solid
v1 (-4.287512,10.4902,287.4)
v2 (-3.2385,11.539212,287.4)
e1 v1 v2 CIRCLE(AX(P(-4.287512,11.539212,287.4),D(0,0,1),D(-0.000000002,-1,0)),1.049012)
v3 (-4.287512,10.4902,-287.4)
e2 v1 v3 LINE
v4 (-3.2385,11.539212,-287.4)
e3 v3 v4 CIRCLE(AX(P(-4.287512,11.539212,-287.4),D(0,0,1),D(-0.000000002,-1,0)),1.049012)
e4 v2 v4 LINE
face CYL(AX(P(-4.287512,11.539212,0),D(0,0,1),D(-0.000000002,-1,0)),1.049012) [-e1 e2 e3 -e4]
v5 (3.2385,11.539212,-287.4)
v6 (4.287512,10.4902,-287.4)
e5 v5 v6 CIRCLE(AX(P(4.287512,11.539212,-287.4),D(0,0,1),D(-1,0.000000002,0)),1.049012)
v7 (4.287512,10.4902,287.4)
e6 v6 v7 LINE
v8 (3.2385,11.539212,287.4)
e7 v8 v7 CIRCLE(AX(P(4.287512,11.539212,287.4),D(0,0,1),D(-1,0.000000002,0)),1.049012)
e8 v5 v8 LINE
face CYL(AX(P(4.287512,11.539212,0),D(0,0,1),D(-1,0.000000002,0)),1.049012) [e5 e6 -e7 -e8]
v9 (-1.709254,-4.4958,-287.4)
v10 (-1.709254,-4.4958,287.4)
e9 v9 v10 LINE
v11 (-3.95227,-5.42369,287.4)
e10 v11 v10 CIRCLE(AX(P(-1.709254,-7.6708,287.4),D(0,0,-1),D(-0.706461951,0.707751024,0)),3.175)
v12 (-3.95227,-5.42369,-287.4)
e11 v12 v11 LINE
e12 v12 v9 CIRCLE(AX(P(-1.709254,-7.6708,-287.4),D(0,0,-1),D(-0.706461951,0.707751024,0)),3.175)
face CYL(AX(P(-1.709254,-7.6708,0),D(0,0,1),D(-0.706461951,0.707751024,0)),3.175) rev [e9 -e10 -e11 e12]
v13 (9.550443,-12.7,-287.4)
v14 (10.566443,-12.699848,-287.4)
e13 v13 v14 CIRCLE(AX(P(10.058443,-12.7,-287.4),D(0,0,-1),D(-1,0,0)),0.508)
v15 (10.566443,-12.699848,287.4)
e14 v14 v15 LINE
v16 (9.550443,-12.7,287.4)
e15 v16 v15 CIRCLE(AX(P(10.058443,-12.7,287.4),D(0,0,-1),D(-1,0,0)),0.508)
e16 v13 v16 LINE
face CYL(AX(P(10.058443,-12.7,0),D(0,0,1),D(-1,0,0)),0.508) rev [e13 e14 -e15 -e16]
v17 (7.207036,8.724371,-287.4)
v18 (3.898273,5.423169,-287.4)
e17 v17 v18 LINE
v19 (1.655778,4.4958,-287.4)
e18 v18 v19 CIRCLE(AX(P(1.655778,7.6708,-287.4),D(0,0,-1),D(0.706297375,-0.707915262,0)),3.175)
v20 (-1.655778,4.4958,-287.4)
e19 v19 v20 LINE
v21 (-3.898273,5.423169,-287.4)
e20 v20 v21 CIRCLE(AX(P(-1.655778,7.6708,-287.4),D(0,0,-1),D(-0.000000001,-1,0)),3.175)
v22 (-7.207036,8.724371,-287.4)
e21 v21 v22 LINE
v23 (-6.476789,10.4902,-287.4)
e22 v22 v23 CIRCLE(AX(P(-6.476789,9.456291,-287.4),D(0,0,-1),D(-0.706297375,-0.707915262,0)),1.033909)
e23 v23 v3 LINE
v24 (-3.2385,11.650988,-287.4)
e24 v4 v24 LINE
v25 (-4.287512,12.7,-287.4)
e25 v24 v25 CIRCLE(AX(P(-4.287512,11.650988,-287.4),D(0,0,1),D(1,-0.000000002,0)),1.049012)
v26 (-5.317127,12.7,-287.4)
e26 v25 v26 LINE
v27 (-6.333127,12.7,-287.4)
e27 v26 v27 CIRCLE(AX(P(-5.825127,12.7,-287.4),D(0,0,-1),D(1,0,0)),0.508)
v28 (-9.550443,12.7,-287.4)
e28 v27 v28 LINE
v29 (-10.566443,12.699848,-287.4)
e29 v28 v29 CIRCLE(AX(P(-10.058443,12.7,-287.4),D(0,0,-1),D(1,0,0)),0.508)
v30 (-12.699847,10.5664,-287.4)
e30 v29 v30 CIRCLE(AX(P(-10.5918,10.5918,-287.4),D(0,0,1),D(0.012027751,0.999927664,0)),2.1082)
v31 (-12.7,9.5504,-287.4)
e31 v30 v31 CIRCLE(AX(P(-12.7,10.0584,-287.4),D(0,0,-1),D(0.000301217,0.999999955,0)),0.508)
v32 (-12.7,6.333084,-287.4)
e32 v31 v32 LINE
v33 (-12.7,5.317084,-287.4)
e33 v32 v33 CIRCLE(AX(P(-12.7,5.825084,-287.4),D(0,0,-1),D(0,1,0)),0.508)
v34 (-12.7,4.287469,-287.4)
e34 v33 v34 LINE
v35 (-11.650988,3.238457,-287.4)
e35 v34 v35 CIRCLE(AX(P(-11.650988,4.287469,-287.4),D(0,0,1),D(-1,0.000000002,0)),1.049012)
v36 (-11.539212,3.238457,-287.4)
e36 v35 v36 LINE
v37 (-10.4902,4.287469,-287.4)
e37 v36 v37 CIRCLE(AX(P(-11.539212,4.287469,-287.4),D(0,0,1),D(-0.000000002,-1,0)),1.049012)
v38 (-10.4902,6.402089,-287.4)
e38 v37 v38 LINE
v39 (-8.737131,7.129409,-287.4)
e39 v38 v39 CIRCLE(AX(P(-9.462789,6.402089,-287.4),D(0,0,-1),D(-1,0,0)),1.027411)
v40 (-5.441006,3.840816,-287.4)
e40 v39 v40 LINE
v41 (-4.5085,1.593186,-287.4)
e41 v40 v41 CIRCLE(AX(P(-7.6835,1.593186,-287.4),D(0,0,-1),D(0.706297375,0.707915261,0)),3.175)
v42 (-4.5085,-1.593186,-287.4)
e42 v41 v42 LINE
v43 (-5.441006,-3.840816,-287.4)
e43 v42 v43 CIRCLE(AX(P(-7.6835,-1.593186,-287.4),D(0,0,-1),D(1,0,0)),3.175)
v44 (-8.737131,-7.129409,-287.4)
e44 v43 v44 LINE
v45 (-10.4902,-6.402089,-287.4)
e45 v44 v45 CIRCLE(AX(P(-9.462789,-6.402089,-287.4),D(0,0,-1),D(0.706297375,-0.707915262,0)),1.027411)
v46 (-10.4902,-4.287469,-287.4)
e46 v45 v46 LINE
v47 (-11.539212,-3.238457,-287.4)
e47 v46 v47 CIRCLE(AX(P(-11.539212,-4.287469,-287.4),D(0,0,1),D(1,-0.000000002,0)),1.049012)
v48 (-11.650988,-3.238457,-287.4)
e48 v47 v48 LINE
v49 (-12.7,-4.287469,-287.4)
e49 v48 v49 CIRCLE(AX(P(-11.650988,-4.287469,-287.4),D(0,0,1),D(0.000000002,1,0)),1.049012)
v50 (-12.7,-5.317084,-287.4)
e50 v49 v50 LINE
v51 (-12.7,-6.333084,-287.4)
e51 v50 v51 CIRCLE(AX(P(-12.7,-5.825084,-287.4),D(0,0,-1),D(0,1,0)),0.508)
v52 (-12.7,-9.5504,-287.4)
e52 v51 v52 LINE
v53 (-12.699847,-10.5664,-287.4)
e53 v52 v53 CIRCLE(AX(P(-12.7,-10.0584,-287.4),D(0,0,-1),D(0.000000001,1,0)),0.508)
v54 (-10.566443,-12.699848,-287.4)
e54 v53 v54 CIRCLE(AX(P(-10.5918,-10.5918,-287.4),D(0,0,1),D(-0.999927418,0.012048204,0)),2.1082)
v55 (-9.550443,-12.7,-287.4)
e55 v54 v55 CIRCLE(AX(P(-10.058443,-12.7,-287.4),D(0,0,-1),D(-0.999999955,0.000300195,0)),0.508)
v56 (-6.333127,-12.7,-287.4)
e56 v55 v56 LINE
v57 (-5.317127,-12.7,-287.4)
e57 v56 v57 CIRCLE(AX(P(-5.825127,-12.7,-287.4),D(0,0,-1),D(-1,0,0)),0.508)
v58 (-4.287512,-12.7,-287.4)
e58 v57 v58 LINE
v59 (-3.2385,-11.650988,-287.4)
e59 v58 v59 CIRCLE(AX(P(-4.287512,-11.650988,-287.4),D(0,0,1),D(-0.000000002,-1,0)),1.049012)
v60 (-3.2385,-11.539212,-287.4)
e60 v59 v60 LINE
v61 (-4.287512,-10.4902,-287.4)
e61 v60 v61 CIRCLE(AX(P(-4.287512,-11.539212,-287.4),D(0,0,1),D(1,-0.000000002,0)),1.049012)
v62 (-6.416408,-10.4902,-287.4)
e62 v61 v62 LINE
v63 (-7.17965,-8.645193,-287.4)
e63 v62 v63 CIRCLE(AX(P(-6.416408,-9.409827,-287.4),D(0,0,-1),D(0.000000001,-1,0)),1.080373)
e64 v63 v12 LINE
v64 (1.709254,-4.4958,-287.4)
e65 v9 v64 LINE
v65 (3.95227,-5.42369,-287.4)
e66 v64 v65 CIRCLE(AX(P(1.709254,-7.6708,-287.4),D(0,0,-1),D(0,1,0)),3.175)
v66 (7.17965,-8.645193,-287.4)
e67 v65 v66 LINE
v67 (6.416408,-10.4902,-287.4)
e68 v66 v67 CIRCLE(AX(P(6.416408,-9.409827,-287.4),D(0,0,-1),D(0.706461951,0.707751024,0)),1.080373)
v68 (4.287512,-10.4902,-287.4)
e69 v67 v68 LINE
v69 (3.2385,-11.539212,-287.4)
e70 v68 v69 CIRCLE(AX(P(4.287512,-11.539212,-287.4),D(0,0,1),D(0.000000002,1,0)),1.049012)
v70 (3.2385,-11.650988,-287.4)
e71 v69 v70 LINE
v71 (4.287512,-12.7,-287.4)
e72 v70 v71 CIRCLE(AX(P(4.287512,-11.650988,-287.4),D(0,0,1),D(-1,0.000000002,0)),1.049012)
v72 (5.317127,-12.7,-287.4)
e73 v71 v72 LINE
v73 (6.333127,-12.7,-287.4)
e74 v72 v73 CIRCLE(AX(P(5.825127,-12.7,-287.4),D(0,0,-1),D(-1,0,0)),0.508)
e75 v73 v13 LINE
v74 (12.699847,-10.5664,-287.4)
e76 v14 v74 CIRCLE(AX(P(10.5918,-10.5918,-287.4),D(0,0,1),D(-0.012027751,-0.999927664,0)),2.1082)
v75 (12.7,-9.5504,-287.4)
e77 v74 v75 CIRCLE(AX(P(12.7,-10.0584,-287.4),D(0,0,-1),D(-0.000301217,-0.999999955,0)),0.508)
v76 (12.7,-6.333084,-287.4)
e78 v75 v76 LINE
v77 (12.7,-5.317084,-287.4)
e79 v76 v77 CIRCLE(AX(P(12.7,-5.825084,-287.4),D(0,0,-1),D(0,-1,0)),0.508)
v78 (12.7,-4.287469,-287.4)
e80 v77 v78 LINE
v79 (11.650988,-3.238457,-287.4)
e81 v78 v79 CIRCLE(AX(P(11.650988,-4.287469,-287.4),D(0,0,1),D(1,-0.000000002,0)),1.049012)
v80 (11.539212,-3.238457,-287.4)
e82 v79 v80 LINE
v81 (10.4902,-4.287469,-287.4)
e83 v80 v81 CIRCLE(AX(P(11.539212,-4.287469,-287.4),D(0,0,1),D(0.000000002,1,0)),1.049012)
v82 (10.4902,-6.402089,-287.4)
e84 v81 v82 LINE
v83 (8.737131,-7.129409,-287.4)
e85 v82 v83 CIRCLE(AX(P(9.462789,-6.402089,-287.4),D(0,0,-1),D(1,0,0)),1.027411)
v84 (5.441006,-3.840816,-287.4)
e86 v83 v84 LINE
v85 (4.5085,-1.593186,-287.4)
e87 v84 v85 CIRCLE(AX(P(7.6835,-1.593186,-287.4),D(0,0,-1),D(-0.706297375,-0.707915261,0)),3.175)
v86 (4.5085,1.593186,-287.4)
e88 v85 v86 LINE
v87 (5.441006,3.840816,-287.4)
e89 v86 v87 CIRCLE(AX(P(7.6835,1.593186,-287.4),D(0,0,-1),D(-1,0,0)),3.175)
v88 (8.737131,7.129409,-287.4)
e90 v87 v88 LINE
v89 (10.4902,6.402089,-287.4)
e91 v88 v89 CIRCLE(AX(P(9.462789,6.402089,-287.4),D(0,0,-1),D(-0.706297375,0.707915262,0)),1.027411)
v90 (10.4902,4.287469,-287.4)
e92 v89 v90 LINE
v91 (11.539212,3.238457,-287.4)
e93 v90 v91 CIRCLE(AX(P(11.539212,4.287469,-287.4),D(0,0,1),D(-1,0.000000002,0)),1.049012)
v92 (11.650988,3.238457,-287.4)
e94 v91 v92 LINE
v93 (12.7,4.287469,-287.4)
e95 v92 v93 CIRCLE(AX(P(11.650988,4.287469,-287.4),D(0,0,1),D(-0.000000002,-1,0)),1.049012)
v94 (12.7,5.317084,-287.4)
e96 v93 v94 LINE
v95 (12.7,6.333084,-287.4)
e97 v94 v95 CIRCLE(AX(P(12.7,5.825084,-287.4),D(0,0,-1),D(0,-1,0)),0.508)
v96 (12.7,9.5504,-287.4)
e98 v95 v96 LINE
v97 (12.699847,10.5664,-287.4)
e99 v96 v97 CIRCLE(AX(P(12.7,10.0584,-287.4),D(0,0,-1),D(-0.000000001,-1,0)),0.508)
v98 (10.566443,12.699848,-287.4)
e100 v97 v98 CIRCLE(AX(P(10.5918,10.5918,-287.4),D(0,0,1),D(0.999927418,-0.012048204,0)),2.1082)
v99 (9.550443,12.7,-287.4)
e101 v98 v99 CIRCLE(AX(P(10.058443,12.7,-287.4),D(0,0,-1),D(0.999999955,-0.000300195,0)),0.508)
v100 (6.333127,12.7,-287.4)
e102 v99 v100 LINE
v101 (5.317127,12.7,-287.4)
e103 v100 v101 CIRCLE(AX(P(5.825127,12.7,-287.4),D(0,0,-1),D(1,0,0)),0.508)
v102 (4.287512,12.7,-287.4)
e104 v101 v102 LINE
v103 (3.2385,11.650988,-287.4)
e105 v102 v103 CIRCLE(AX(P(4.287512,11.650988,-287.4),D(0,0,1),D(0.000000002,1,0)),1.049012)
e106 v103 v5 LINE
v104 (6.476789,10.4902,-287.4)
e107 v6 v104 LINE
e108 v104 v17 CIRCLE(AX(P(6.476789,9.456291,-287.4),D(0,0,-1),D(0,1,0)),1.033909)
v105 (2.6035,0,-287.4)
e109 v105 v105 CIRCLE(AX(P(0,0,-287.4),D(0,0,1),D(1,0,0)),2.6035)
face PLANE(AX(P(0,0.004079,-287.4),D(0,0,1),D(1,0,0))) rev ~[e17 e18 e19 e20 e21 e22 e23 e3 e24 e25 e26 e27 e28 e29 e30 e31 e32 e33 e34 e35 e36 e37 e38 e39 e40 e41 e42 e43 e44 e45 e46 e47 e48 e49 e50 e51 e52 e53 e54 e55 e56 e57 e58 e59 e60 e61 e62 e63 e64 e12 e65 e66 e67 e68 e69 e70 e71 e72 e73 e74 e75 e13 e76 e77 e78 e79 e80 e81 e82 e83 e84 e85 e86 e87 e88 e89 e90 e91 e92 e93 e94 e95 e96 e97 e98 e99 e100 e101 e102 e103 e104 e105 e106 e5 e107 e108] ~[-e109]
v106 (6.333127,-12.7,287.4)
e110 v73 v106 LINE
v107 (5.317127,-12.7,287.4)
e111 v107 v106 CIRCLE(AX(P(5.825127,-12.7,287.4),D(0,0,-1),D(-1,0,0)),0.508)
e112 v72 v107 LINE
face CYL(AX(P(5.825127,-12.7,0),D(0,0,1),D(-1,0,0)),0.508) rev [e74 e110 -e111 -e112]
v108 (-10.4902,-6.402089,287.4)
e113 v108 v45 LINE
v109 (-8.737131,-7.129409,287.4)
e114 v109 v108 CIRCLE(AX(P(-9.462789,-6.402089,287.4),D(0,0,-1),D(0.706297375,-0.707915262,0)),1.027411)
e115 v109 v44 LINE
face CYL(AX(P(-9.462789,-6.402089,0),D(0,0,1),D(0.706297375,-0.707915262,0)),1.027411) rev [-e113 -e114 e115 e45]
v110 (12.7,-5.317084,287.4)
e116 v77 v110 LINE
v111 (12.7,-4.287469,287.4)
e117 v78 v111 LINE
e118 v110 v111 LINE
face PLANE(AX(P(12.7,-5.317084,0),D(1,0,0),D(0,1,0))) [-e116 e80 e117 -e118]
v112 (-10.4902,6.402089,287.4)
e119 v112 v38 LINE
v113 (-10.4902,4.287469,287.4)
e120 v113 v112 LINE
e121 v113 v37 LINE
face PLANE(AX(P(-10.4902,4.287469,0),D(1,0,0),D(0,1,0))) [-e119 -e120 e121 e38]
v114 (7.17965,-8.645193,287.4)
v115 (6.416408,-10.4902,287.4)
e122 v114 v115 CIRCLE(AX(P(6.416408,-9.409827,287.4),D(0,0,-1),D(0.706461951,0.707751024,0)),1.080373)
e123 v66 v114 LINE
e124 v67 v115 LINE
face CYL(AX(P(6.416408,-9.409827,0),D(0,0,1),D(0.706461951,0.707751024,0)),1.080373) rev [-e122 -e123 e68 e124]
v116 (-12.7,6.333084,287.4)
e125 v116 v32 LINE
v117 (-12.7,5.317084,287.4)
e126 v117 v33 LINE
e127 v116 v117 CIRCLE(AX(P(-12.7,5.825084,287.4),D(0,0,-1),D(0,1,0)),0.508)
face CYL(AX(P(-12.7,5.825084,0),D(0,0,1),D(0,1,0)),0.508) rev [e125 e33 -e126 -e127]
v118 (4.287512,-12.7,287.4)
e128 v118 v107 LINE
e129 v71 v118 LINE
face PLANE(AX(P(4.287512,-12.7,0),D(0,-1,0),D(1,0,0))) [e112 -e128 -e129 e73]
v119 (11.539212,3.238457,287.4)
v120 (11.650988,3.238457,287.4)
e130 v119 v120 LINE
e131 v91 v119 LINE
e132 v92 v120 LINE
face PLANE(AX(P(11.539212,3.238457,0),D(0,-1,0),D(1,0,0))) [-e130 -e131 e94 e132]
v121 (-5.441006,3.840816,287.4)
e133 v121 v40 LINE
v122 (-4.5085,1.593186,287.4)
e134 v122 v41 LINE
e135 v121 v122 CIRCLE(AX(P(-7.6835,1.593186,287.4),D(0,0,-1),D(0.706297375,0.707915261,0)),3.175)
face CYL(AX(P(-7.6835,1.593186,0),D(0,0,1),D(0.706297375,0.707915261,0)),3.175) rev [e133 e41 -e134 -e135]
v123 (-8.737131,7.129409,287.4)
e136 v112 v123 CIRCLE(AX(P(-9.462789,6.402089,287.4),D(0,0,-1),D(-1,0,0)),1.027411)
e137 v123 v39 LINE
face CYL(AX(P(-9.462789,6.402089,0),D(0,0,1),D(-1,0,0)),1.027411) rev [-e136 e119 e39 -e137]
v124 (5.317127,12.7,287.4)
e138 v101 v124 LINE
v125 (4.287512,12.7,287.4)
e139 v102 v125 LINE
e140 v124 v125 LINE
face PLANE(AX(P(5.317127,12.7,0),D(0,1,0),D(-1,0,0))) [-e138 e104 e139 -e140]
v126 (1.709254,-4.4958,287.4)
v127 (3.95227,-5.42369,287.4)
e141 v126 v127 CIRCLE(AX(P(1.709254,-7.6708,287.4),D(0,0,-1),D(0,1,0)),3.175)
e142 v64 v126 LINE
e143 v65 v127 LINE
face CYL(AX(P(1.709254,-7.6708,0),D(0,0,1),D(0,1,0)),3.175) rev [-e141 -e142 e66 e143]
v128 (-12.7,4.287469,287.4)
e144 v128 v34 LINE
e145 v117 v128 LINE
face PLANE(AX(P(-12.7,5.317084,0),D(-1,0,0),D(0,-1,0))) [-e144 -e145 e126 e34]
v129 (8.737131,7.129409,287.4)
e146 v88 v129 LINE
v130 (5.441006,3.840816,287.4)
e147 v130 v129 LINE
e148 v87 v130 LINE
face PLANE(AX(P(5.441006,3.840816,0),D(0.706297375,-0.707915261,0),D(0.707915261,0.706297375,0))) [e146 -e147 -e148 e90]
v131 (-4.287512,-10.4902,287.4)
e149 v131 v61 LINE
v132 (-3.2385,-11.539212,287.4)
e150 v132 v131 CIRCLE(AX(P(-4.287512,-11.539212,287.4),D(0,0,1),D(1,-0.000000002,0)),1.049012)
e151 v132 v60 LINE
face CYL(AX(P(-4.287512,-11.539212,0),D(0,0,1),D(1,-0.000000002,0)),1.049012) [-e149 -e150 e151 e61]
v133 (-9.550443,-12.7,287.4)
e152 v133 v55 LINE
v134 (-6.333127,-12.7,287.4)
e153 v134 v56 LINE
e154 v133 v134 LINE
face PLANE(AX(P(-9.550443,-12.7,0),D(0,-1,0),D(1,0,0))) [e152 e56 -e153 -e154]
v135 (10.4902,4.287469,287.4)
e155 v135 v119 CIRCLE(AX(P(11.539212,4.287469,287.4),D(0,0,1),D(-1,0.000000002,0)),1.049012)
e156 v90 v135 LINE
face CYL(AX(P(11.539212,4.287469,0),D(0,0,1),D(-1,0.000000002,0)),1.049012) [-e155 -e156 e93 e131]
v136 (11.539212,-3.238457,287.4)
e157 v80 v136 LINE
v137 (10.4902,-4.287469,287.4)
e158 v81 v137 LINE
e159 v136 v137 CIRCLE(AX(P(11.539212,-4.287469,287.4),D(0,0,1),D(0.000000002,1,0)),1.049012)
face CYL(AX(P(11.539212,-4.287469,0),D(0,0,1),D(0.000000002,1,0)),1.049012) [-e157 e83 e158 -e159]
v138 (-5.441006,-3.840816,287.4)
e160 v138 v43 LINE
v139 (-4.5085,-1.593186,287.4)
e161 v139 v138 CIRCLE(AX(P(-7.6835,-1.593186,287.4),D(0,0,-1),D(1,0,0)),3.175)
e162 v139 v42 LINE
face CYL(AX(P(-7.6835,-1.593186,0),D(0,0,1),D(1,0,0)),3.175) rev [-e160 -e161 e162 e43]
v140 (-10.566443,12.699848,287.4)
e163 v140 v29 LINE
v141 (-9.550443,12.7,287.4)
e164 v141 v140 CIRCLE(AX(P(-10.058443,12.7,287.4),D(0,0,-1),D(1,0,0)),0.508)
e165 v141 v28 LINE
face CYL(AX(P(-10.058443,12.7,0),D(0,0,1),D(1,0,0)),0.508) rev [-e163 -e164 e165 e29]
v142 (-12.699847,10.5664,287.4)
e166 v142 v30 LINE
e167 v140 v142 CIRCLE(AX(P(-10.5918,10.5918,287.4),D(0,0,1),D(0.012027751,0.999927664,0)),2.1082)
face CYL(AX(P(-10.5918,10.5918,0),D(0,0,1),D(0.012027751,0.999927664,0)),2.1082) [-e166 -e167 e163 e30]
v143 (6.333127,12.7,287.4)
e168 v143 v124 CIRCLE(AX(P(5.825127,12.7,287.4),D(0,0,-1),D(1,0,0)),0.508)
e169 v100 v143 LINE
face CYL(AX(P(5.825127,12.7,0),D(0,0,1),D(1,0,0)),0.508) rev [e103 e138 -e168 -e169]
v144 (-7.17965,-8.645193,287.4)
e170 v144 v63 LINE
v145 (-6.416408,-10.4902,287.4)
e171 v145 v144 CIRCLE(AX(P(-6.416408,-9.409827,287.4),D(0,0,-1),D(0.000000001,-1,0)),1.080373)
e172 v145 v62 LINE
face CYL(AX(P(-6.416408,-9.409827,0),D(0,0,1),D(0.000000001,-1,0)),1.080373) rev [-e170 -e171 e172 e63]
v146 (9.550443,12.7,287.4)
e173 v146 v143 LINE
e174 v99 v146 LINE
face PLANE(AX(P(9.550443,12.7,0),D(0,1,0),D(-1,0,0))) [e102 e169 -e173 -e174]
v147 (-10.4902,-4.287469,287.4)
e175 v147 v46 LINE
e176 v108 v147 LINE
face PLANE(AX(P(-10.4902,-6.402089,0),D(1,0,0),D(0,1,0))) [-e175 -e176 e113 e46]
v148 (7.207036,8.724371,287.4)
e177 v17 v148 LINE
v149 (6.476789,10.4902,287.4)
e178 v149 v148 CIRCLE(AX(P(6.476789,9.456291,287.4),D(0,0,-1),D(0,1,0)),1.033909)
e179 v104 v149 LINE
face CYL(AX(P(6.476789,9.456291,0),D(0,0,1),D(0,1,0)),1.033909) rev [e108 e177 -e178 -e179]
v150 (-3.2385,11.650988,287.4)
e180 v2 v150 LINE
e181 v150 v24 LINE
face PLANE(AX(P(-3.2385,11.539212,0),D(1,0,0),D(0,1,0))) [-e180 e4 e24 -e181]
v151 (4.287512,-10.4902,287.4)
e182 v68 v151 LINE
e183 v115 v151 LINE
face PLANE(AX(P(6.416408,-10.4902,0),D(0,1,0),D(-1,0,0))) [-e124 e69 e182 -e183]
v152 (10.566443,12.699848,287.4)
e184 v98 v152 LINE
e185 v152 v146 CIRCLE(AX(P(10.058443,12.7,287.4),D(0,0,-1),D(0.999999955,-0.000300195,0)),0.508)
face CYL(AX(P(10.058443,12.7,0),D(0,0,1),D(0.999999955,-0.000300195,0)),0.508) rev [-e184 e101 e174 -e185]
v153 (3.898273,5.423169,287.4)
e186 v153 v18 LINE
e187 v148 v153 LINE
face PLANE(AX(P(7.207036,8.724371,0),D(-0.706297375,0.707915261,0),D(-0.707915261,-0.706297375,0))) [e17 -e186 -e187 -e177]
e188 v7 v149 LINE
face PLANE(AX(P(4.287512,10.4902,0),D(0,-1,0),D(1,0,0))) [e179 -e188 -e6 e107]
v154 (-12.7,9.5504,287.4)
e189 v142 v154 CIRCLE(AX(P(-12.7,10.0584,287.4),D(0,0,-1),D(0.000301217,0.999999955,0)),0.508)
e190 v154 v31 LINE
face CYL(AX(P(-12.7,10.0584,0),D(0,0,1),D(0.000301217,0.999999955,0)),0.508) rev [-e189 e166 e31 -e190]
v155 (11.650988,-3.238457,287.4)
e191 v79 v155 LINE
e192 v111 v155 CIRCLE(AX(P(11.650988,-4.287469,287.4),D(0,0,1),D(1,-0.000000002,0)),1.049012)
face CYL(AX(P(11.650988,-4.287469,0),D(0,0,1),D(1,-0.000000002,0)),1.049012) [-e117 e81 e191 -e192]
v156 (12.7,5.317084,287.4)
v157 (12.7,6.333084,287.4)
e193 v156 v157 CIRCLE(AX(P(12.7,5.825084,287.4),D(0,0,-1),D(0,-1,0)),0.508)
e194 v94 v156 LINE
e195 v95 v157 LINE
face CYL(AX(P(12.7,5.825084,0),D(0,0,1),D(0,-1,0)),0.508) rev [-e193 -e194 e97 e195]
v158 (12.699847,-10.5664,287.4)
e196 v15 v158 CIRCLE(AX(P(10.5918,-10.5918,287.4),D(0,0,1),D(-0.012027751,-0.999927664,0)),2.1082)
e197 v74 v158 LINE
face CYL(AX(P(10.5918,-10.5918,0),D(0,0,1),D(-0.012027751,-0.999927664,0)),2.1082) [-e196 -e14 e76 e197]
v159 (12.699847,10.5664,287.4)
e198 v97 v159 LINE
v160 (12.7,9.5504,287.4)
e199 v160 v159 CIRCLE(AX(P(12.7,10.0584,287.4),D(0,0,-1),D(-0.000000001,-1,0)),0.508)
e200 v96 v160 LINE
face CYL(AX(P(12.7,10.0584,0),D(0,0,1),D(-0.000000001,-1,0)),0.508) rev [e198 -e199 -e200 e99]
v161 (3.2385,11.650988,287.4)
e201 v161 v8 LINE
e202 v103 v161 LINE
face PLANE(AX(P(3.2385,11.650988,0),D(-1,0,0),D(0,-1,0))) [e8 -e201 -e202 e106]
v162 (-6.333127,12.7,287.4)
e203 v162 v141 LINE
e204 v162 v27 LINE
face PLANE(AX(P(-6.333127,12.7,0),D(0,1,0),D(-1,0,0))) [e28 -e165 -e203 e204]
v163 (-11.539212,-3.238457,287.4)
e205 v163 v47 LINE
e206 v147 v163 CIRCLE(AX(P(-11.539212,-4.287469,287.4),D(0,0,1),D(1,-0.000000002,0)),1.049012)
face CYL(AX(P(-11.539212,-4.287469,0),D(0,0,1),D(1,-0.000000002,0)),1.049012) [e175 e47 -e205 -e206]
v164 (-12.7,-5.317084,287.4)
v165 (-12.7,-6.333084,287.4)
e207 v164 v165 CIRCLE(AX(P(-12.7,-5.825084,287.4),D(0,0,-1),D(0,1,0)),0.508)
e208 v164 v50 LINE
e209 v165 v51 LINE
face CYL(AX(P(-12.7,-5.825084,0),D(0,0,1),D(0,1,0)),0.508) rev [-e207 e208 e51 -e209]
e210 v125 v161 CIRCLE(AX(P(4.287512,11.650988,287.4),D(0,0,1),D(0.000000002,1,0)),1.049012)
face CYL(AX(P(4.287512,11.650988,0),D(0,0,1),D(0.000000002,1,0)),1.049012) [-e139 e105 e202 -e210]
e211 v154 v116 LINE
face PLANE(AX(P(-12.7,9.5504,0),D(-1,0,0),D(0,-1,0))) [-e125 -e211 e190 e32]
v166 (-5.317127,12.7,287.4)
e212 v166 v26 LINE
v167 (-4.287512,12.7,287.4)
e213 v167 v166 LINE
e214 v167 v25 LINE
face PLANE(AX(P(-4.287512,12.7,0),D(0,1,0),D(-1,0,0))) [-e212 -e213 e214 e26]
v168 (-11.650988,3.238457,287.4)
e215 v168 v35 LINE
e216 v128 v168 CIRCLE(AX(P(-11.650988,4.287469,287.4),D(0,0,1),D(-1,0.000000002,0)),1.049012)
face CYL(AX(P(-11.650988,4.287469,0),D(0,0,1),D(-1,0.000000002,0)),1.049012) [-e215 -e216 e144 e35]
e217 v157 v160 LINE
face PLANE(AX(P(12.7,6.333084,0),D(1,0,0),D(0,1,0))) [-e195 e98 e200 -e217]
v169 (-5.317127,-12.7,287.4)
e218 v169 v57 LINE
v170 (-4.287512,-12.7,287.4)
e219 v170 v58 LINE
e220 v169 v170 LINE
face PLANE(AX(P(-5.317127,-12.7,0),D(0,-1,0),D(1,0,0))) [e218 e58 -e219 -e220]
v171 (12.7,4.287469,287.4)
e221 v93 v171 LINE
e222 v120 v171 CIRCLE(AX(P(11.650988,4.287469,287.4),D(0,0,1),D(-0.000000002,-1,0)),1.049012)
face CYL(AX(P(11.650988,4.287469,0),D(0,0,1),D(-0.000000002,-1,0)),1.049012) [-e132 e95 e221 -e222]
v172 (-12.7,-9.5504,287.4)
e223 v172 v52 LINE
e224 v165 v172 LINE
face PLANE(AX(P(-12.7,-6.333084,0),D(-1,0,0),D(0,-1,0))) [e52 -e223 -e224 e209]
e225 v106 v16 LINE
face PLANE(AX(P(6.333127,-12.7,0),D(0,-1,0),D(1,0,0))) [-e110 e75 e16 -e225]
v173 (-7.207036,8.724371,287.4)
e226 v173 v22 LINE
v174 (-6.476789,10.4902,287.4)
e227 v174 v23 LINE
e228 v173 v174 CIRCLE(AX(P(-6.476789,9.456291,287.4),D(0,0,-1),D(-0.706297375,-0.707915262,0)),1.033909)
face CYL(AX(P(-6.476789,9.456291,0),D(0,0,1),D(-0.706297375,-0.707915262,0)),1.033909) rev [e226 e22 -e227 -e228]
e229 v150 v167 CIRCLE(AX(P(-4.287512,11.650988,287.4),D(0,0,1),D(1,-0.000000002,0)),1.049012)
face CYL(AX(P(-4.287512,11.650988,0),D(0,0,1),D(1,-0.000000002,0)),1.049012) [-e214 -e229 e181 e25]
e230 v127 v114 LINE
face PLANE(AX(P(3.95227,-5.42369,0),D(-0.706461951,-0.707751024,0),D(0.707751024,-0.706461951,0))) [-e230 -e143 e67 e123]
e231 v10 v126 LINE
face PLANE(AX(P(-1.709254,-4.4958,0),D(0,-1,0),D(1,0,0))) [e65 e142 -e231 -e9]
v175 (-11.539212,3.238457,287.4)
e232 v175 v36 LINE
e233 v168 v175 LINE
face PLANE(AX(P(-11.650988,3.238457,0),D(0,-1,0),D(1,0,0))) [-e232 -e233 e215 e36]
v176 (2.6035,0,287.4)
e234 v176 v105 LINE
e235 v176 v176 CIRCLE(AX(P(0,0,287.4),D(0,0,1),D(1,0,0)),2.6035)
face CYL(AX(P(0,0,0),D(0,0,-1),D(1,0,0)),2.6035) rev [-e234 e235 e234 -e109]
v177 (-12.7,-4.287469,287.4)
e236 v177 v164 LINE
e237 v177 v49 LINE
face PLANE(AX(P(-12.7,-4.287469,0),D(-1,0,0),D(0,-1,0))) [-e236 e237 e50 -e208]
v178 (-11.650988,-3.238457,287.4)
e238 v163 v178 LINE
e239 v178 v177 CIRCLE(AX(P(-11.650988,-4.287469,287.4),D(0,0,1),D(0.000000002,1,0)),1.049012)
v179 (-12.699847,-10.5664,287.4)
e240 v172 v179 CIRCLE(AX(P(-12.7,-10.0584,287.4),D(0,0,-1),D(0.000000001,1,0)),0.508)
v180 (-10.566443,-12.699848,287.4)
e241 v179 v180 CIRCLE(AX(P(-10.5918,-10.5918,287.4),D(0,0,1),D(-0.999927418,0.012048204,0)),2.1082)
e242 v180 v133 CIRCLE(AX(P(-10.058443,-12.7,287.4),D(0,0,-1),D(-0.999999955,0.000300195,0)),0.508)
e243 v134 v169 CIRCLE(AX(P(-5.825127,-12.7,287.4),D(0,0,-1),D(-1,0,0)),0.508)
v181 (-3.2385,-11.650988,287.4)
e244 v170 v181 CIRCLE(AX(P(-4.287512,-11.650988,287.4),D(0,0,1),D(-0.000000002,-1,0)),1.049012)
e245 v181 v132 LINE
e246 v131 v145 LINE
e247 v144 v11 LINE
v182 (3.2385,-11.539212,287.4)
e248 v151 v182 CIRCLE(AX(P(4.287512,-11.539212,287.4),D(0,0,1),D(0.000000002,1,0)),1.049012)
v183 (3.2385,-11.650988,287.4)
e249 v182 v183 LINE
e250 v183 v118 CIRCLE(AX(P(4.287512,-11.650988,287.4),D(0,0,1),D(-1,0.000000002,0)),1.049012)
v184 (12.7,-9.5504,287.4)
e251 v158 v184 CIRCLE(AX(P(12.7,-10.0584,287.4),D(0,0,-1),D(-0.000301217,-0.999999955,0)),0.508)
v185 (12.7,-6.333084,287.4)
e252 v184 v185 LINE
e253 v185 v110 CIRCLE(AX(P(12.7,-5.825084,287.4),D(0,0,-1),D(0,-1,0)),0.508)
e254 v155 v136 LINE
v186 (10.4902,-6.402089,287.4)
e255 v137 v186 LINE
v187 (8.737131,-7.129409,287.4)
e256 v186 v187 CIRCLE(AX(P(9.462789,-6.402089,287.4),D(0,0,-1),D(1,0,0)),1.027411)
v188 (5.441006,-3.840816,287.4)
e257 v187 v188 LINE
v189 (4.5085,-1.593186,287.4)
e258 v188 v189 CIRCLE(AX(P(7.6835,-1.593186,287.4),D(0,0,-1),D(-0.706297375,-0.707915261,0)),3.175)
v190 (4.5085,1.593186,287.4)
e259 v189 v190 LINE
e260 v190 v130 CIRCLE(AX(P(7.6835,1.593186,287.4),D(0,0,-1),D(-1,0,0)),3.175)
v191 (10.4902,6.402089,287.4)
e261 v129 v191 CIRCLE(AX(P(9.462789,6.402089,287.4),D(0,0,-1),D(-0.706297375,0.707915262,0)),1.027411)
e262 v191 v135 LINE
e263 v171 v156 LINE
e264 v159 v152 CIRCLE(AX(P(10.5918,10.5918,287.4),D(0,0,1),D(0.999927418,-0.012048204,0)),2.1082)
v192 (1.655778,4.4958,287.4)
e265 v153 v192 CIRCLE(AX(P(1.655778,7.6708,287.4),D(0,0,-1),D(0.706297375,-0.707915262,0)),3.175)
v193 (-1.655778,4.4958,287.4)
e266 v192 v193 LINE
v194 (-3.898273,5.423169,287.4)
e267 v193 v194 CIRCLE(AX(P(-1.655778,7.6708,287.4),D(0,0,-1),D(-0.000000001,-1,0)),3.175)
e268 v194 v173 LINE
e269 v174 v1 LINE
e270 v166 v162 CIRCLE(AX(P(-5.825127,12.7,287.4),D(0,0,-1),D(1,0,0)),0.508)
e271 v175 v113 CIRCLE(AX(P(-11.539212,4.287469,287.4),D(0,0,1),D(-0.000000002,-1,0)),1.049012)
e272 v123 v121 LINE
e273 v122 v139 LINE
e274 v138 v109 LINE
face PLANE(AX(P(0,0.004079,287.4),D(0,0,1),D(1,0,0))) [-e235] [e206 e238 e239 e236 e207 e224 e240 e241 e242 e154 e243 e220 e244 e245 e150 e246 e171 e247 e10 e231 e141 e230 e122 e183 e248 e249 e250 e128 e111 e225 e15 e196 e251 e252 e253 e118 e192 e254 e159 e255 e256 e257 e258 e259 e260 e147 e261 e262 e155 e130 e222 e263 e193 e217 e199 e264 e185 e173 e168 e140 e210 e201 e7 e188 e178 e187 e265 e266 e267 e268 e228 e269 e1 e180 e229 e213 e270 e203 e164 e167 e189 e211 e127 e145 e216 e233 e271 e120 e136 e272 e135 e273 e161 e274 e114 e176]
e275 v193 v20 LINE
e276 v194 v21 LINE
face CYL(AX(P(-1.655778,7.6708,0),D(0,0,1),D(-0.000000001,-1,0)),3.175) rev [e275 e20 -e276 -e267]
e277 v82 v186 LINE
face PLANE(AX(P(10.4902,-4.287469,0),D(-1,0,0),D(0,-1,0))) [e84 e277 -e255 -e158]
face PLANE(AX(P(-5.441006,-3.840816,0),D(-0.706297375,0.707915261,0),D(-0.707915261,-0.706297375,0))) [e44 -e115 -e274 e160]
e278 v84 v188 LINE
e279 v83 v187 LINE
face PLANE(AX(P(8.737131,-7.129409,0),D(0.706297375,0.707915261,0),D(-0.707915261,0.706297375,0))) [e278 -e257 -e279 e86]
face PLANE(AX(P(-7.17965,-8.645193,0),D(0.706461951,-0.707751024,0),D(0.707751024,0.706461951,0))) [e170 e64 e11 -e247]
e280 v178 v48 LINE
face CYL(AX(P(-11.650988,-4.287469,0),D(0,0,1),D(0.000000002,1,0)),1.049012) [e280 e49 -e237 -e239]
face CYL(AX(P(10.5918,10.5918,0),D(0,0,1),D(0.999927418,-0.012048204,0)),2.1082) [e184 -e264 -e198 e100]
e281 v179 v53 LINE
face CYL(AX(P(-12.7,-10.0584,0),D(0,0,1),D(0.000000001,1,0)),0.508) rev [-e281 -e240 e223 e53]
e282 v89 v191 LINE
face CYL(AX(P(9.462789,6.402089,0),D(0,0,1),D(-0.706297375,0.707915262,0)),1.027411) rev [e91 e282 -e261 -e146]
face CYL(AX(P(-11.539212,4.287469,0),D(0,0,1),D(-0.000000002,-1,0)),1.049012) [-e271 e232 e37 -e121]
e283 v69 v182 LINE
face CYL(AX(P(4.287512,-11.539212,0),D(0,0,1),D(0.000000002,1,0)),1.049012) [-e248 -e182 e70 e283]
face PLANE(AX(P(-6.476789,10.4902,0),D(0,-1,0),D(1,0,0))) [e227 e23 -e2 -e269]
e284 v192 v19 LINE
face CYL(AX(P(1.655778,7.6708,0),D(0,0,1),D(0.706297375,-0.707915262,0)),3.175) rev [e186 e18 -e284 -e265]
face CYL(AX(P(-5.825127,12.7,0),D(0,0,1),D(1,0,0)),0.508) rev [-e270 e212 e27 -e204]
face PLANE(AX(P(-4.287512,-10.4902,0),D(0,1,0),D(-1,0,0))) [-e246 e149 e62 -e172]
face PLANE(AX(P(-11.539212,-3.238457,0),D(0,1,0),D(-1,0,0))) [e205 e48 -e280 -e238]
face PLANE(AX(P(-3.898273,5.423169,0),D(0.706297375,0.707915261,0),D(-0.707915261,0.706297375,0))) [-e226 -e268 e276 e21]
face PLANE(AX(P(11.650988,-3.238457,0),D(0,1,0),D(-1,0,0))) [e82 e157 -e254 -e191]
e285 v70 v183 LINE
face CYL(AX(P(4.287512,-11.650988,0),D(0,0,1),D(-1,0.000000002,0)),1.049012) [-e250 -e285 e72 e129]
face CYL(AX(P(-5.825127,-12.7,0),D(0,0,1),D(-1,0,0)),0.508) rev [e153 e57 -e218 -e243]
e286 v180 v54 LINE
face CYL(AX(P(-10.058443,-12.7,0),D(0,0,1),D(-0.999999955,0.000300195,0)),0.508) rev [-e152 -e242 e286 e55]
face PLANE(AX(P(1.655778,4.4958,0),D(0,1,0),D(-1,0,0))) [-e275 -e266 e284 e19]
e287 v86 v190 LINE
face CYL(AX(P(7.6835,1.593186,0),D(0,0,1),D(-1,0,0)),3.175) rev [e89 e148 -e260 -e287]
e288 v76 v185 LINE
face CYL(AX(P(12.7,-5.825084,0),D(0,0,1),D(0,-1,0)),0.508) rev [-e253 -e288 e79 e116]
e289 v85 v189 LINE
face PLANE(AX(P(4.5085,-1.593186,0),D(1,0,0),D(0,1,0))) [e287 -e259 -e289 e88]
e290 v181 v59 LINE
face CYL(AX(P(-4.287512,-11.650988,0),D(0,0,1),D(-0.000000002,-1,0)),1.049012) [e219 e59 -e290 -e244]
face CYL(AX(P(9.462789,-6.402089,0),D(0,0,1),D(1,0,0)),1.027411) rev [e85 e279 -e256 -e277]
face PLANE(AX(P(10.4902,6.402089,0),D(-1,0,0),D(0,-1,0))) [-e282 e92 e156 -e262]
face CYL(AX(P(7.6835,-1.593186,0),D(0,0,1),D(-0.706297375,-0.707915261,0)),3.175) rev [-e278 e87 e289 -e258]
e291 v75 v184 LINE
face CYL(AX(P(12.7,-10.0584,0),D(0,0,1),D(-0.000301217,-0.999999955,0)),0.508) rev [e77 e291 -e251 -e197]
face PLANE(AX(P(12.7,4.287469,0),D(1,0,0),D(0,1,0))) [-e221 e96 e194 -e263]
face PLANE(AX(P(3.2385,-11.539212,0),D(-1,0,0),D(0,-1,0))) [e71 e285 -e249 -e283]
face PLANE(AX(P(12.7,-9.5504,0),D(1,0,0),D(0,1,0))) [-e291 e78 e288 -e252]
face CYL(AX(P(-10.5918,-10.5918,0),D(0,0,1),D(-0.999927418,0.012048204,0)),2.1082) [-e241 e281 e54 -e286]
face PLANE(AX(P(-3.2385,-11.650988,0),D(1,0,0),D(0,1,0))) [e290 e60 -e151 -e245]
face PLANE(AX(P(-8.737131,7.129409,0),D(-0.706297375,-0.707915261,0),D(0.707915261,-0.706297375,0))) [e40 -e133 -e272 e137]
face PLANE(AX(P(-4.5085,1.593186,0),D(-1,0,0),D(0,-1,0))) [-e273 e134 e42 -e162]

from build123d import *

# Parameters (mm, degrees)
SKETCH1_R           = 2.6035
BOSS_EXTRUDE1_DEPTH = 287.4


with BuildPart() as part:
    # Sketch1 → Boss-Extrude1 (new, symmetric)
    with BuildSketch(Plane.XY):
        with BuildLine():
            Line((-7.179650497, -8.645192506), (-3.952270251, -5.423690499))
            ThreePointArc((-3.952270251, -5.423690499), (-2.922936451, -4.736929036), (-1.709253557, -4.4958))
            Line((-1.709253557, -4.4958), (1.709253557, -4.4958))
            ThreePointArc((1.709253557, -4.4958), (2.922936451, -4.736929036), (3.952270251, -5.423690499))
            Line((3.952270251, -5.423690499), (7.179650497, -8.645192506))
            ThreePointArc((7.179650497, -8.645192506), (7.41473083, -9.822813117), (6.416408329, -10.4902))
            Line((6.416408329, -10.4902), (4.287512407, -10.4902))
            ThreePointArc((4.287512407, -10.4902), (3.54574862, -10.79744862), (3.2385, -11.539212407))
            Line((3.2385, -11.539212407), (3.2385, -11.650987593))
            ThreePointArc((3.2385, -11.650987593), (3.54574862, -12.39275138), (4.287512407, -12.7))
            Line((4.287512407, -12.7), (5.317126718, -12.7))
            ThreePointArc((5.317126718, -12.7), (5.825126718, -12.192), (6.333126718, -12.7))
            Line((6.333126718, -12.7), (9.550443118, -12.7))
            ThreePointArc((9.550443118, -12.7), (10.058366869, -12.192000006), (10.566443095, -12.699847501))
            ThreePointArc((10.566443095, -12.699847501), (12.082537762, -12.08250727), (12.699846982, -10.566399977))
            ThreePointArc((12.699846982, -10.566399977), (12.192000006, -10.058323491), (12.7, -9.5504))
            Line((12.7, -9.5504), (12.7, -6.3330836))
            ThreePointArc((12.7, -6.3330836), (12.192, -5.8250836), (12.7, -5.3170836))
            Line((12.7, -5.3170836), (12.7, -4.287469289))
            ThreePointArc((12.7, -4.287469289), (12.39275138, -3.545705502), (11.650987593, -3.238456882))
            Line((11.650987593, -3.238456882), (11.539212407, -3.238456882))
            ThreePointArc((11.539212407, -3.238456882), (10.79744862, -3.545705502), (10.4902, -4.287469289))
            Line((10.4902, -4.287469289), (10.4902, -6.402089023))
            ThreePointArc((10.4902, -6.402089023), (9.856505071, -7.351067942), (8.737131347, -7.129408934))
            Line((8.737131347, -7.129408934), (5.441005833, -3.840816462))
            ThreePointArc((5.441005833, -3.840816462), (4.750877967, -2.809883091), (4.5085, -1.593185507))
            Line((4.5085, -1.593185507), (4.5085, 1.593185507))
            ThreePointArc((4.5085, 1.593185507), (4.750877967, 2.809883091), (5.441005833, 3.840816462))
            Line((5.441005833, 3.840816462), (8.737131347, 7.129408934))
            ThreePointArc((8.737131347, 7.129408934), (9.856505071, 7.351067942), (10.4902, 6.402089023))
            Line((10.4902, 6.402089023), (10.4902, 4.287469289))
            ThreePointArc((10.4902, 4.287469289), (10.79744862, 3.545705502), (11.539212407, 3.238456882))
            Line((11.539212407, 3.238456882), (11.650987593, 3.238456882))
            ThreePointArc((11.650987593, 3.238456882), (12.39275138, 3.545705502), (12.7, 4.287469289))
            Line((12.7, 4.287469289), (12.7, 5.3170836))
            ThreePointArc((12.7, 5.3170836), (12.192, 5.8250836), (12.7, 6.3330836))
            Line((12.7, 6.3330836), (12.7, 9.5504))
            ThreePointArc((12.7, 9.5504), (12.192000006, 10.058323491), (12.699846982, 10.566399977))
            ThreePointArc((12.699846982, 10.566399977), (12.082537762, 12.08250727), (10.566443095, 12.699847501))
            ThreePointArc((10.566443095, 12.699847501), (10.058366869, 12.192000006), (9.550443118, 12.7))
            Line((9.550443118, 12.7), (6.333126718, 12.7))
            ThreePointArc((6.333126718, 12.7), (5.825126718, 12.192), (5.317126718, 12.7))
            Line((5.317126718, 12.7), (4.287512407, 12.7))
            ThreePointArc((4.287512407, 12.7), (3.54574862, 12.39275138), (3.2385, 11.650987593))
            Line((3.2385, 11.650987593), (3.2385, 11.539212407))
            ThreePointArc((3.2385, 11.539212407), (3.54574862, 10.79744862), (4.287512407, 10.4902))
            Line((4.287512407, 10.4902), (6.476788598, 10.4902))
            ThreePointArc((6.476788598, 10.4902), (7.432222385, 9.85140422), (7.207036008, 8.724370562))
            Line((7.207036008, 8.724370562), (3.898272566, 5.423169045))
            ThreePointArc((3.898272566, 5.423169045), (2.869120213, 4.736787962), (1.655778399, 4.4958))
            Line((1.655778399, 4.4958), (-1.655778399, 4.4958))
            ThreePointArc((-1.655778399, 4.4958), (-2.869120213, 4.736787962), (-3.898272566, 5.423169045))
            Line((-3.898272566, 5.423169045), (-7.207036008, 8.724370562))
            ThreePointArc((-7.207036008, 8.724370562), (-7.432222385, 9.85140422), (-6.476788598, 10.4902))
            Line((-6.476788598, 10.4902), (-4.287512407, 10.4902))
            ThreePointArc((-4.287512407, 10.4902), (-3.54574862, 10.79744862), (-3.2385, 11.539212407))
            Line((-3.2385, 11.539212407), (-3.2385, 11.650987593))
            ThreePointArc((-3.2385, 11.650987593), (-3.54574862, 12.39275138), (-4.287512407, 12.7))
            Line((-4.287512407, 12.7), (-5.317126718, 12.7))
            ThreePointArc((-5.317126718, 12.7), (-5.825126718, 12.192), (-6.333126718, 12.7))
            Line((-6.333126718, 12.7), (-9.550443118, 12.7))
            ThreePointArc((-9.550443118, 12.7), (-10.058366869, 12.192000006), (-10.566443095, 12.699847501))
            ThreePointArc((-10.566443095, 12.699847501), (-12.082537762, 12.08250727), (-12.699846982, 10.566399977))
            ThreePointArc((-12.699846982, 10.566399977), (-12.192000006, 10.058323491), (-12.7, 9.5504))
            Line((-12.7, 9.5504), (-12.7, 6.3330836))
            ThreePointArc((-12.7, 6.3330836), (-12.192, 5.8250836), (-12.7, 5.3170836))
            Line((-12.7, 5.3170836), (-12.7, 4.287469289))
            ThreePointArc((-12.7, 4.287469289), (-12.39275138, 3.545705502), (-11.650987593, 3.238456882))
            Line((-11.650987593, 3.238456882), (-11.539212407, 3.238456882))
            ThreePointArc((-11.539212407, 3.238456882), (-10.79744862, 3.545705502), (-10.4902, 4.287469289))
            Line((-10.4902, 4.287469289), (-10.4902, 6.402089023))
            ThreePointArc((-10.4902, 6.402089023), (-9.856505071, 7.351067942), (-8.737131347, 7.129408934))
            Line((-8.737131347, 7.129408934), (-5.441005833, 3.840816462))
            ThreePointArc((-5.441005833, 3.840816462), (-4.750877967, 2.809883091), (-4.5085, 1.593185507))
            Line((-4.5085, 1.593185507), (-4.5085, -1.593185507))
            ThreePointArc((-4.5085, -1.593185507), (-4.750877967, -2.809883091), (-5.441005833, -3.840816462))
            Line((-5.441005833, -3.840816462), (-8.737131347, -7.129408934))
            ThreePointArc((-8.737131347, -7.129408934), (-9.856505071, -7.351067942), (-10.4902, -6.402089023))
            Line((-10.4902, -6.402089023), (-10.4902, -4.287469289))
            ThreePointArc((-10.4902, -4.287469289), (-10.79744862, -3.545705502), (-11.539212407, -3.238456882))
            Line((-11.539212407, -3.238456882), (-11.650987593, -3.238456882))
            ThreePointArc((-11.650987593, -3.238456882), (-12.39275138, -3.545705502), (-12.7, -4.287469289))
            Line((-12.7, -4.287469289), (-12.7, -5.3170836))
            ThreePointArc((-12.7, -5.3170836), (-12.192, -5.8250836), (-12.7, -6.3330836))
            Line((-12.7, -6.3330836), (-12.7, -9.5504))
            ThreePointArc((-12.7, -9.5504), (-12.192000006, -10.058323491), (-12.699846982, -10.566399977))
            ThreePointArc((-12.699846982, -10.566399977), (-12.082537762, -12.08250727), (-10.566443095, -12.699847501))
            ThreePointArc((-10.566443095, -12.699847501), (-10.058366869, -12.192000006), (-9.550443118, -12.7))
            Line((-9.550443118, -12.7), (-6.333126718, -12.7))
            ThreePointArc((-6.333126718, -12.7), (-5.825126718, -12.192), (-5.317126718, -12.7))
            Line((-5.317126718, -12.7), (-4.287512407, -12.7))
            ThreePointArc((-4.287512407, -12.7), (-3.54574862, -12.39275138), (-3.2385, -11.650987593))
            Line((-3.2385, -11.650987593), (-3.2385, -11.539212407))
            ThreePointArc((-3.2385, -11.539212407), (-3.54574862, -10.79744862), (-4.287512407, -10.4902))
            Line((-4.287512407, -10.4902), (-6.416408329, -10.4902))
            ThreePointArc((-6.416408329, -10.4902), (-7.41473083, -9.822813117), (-7.179650497, -8.645192506))
        make_face()
        Circle(SKETCH1_R, mode=Mode.SUBTRACT)
    extrude(amount=BOSS_EXTRUDE1_DEPTH, both=True)


solid = part.part
